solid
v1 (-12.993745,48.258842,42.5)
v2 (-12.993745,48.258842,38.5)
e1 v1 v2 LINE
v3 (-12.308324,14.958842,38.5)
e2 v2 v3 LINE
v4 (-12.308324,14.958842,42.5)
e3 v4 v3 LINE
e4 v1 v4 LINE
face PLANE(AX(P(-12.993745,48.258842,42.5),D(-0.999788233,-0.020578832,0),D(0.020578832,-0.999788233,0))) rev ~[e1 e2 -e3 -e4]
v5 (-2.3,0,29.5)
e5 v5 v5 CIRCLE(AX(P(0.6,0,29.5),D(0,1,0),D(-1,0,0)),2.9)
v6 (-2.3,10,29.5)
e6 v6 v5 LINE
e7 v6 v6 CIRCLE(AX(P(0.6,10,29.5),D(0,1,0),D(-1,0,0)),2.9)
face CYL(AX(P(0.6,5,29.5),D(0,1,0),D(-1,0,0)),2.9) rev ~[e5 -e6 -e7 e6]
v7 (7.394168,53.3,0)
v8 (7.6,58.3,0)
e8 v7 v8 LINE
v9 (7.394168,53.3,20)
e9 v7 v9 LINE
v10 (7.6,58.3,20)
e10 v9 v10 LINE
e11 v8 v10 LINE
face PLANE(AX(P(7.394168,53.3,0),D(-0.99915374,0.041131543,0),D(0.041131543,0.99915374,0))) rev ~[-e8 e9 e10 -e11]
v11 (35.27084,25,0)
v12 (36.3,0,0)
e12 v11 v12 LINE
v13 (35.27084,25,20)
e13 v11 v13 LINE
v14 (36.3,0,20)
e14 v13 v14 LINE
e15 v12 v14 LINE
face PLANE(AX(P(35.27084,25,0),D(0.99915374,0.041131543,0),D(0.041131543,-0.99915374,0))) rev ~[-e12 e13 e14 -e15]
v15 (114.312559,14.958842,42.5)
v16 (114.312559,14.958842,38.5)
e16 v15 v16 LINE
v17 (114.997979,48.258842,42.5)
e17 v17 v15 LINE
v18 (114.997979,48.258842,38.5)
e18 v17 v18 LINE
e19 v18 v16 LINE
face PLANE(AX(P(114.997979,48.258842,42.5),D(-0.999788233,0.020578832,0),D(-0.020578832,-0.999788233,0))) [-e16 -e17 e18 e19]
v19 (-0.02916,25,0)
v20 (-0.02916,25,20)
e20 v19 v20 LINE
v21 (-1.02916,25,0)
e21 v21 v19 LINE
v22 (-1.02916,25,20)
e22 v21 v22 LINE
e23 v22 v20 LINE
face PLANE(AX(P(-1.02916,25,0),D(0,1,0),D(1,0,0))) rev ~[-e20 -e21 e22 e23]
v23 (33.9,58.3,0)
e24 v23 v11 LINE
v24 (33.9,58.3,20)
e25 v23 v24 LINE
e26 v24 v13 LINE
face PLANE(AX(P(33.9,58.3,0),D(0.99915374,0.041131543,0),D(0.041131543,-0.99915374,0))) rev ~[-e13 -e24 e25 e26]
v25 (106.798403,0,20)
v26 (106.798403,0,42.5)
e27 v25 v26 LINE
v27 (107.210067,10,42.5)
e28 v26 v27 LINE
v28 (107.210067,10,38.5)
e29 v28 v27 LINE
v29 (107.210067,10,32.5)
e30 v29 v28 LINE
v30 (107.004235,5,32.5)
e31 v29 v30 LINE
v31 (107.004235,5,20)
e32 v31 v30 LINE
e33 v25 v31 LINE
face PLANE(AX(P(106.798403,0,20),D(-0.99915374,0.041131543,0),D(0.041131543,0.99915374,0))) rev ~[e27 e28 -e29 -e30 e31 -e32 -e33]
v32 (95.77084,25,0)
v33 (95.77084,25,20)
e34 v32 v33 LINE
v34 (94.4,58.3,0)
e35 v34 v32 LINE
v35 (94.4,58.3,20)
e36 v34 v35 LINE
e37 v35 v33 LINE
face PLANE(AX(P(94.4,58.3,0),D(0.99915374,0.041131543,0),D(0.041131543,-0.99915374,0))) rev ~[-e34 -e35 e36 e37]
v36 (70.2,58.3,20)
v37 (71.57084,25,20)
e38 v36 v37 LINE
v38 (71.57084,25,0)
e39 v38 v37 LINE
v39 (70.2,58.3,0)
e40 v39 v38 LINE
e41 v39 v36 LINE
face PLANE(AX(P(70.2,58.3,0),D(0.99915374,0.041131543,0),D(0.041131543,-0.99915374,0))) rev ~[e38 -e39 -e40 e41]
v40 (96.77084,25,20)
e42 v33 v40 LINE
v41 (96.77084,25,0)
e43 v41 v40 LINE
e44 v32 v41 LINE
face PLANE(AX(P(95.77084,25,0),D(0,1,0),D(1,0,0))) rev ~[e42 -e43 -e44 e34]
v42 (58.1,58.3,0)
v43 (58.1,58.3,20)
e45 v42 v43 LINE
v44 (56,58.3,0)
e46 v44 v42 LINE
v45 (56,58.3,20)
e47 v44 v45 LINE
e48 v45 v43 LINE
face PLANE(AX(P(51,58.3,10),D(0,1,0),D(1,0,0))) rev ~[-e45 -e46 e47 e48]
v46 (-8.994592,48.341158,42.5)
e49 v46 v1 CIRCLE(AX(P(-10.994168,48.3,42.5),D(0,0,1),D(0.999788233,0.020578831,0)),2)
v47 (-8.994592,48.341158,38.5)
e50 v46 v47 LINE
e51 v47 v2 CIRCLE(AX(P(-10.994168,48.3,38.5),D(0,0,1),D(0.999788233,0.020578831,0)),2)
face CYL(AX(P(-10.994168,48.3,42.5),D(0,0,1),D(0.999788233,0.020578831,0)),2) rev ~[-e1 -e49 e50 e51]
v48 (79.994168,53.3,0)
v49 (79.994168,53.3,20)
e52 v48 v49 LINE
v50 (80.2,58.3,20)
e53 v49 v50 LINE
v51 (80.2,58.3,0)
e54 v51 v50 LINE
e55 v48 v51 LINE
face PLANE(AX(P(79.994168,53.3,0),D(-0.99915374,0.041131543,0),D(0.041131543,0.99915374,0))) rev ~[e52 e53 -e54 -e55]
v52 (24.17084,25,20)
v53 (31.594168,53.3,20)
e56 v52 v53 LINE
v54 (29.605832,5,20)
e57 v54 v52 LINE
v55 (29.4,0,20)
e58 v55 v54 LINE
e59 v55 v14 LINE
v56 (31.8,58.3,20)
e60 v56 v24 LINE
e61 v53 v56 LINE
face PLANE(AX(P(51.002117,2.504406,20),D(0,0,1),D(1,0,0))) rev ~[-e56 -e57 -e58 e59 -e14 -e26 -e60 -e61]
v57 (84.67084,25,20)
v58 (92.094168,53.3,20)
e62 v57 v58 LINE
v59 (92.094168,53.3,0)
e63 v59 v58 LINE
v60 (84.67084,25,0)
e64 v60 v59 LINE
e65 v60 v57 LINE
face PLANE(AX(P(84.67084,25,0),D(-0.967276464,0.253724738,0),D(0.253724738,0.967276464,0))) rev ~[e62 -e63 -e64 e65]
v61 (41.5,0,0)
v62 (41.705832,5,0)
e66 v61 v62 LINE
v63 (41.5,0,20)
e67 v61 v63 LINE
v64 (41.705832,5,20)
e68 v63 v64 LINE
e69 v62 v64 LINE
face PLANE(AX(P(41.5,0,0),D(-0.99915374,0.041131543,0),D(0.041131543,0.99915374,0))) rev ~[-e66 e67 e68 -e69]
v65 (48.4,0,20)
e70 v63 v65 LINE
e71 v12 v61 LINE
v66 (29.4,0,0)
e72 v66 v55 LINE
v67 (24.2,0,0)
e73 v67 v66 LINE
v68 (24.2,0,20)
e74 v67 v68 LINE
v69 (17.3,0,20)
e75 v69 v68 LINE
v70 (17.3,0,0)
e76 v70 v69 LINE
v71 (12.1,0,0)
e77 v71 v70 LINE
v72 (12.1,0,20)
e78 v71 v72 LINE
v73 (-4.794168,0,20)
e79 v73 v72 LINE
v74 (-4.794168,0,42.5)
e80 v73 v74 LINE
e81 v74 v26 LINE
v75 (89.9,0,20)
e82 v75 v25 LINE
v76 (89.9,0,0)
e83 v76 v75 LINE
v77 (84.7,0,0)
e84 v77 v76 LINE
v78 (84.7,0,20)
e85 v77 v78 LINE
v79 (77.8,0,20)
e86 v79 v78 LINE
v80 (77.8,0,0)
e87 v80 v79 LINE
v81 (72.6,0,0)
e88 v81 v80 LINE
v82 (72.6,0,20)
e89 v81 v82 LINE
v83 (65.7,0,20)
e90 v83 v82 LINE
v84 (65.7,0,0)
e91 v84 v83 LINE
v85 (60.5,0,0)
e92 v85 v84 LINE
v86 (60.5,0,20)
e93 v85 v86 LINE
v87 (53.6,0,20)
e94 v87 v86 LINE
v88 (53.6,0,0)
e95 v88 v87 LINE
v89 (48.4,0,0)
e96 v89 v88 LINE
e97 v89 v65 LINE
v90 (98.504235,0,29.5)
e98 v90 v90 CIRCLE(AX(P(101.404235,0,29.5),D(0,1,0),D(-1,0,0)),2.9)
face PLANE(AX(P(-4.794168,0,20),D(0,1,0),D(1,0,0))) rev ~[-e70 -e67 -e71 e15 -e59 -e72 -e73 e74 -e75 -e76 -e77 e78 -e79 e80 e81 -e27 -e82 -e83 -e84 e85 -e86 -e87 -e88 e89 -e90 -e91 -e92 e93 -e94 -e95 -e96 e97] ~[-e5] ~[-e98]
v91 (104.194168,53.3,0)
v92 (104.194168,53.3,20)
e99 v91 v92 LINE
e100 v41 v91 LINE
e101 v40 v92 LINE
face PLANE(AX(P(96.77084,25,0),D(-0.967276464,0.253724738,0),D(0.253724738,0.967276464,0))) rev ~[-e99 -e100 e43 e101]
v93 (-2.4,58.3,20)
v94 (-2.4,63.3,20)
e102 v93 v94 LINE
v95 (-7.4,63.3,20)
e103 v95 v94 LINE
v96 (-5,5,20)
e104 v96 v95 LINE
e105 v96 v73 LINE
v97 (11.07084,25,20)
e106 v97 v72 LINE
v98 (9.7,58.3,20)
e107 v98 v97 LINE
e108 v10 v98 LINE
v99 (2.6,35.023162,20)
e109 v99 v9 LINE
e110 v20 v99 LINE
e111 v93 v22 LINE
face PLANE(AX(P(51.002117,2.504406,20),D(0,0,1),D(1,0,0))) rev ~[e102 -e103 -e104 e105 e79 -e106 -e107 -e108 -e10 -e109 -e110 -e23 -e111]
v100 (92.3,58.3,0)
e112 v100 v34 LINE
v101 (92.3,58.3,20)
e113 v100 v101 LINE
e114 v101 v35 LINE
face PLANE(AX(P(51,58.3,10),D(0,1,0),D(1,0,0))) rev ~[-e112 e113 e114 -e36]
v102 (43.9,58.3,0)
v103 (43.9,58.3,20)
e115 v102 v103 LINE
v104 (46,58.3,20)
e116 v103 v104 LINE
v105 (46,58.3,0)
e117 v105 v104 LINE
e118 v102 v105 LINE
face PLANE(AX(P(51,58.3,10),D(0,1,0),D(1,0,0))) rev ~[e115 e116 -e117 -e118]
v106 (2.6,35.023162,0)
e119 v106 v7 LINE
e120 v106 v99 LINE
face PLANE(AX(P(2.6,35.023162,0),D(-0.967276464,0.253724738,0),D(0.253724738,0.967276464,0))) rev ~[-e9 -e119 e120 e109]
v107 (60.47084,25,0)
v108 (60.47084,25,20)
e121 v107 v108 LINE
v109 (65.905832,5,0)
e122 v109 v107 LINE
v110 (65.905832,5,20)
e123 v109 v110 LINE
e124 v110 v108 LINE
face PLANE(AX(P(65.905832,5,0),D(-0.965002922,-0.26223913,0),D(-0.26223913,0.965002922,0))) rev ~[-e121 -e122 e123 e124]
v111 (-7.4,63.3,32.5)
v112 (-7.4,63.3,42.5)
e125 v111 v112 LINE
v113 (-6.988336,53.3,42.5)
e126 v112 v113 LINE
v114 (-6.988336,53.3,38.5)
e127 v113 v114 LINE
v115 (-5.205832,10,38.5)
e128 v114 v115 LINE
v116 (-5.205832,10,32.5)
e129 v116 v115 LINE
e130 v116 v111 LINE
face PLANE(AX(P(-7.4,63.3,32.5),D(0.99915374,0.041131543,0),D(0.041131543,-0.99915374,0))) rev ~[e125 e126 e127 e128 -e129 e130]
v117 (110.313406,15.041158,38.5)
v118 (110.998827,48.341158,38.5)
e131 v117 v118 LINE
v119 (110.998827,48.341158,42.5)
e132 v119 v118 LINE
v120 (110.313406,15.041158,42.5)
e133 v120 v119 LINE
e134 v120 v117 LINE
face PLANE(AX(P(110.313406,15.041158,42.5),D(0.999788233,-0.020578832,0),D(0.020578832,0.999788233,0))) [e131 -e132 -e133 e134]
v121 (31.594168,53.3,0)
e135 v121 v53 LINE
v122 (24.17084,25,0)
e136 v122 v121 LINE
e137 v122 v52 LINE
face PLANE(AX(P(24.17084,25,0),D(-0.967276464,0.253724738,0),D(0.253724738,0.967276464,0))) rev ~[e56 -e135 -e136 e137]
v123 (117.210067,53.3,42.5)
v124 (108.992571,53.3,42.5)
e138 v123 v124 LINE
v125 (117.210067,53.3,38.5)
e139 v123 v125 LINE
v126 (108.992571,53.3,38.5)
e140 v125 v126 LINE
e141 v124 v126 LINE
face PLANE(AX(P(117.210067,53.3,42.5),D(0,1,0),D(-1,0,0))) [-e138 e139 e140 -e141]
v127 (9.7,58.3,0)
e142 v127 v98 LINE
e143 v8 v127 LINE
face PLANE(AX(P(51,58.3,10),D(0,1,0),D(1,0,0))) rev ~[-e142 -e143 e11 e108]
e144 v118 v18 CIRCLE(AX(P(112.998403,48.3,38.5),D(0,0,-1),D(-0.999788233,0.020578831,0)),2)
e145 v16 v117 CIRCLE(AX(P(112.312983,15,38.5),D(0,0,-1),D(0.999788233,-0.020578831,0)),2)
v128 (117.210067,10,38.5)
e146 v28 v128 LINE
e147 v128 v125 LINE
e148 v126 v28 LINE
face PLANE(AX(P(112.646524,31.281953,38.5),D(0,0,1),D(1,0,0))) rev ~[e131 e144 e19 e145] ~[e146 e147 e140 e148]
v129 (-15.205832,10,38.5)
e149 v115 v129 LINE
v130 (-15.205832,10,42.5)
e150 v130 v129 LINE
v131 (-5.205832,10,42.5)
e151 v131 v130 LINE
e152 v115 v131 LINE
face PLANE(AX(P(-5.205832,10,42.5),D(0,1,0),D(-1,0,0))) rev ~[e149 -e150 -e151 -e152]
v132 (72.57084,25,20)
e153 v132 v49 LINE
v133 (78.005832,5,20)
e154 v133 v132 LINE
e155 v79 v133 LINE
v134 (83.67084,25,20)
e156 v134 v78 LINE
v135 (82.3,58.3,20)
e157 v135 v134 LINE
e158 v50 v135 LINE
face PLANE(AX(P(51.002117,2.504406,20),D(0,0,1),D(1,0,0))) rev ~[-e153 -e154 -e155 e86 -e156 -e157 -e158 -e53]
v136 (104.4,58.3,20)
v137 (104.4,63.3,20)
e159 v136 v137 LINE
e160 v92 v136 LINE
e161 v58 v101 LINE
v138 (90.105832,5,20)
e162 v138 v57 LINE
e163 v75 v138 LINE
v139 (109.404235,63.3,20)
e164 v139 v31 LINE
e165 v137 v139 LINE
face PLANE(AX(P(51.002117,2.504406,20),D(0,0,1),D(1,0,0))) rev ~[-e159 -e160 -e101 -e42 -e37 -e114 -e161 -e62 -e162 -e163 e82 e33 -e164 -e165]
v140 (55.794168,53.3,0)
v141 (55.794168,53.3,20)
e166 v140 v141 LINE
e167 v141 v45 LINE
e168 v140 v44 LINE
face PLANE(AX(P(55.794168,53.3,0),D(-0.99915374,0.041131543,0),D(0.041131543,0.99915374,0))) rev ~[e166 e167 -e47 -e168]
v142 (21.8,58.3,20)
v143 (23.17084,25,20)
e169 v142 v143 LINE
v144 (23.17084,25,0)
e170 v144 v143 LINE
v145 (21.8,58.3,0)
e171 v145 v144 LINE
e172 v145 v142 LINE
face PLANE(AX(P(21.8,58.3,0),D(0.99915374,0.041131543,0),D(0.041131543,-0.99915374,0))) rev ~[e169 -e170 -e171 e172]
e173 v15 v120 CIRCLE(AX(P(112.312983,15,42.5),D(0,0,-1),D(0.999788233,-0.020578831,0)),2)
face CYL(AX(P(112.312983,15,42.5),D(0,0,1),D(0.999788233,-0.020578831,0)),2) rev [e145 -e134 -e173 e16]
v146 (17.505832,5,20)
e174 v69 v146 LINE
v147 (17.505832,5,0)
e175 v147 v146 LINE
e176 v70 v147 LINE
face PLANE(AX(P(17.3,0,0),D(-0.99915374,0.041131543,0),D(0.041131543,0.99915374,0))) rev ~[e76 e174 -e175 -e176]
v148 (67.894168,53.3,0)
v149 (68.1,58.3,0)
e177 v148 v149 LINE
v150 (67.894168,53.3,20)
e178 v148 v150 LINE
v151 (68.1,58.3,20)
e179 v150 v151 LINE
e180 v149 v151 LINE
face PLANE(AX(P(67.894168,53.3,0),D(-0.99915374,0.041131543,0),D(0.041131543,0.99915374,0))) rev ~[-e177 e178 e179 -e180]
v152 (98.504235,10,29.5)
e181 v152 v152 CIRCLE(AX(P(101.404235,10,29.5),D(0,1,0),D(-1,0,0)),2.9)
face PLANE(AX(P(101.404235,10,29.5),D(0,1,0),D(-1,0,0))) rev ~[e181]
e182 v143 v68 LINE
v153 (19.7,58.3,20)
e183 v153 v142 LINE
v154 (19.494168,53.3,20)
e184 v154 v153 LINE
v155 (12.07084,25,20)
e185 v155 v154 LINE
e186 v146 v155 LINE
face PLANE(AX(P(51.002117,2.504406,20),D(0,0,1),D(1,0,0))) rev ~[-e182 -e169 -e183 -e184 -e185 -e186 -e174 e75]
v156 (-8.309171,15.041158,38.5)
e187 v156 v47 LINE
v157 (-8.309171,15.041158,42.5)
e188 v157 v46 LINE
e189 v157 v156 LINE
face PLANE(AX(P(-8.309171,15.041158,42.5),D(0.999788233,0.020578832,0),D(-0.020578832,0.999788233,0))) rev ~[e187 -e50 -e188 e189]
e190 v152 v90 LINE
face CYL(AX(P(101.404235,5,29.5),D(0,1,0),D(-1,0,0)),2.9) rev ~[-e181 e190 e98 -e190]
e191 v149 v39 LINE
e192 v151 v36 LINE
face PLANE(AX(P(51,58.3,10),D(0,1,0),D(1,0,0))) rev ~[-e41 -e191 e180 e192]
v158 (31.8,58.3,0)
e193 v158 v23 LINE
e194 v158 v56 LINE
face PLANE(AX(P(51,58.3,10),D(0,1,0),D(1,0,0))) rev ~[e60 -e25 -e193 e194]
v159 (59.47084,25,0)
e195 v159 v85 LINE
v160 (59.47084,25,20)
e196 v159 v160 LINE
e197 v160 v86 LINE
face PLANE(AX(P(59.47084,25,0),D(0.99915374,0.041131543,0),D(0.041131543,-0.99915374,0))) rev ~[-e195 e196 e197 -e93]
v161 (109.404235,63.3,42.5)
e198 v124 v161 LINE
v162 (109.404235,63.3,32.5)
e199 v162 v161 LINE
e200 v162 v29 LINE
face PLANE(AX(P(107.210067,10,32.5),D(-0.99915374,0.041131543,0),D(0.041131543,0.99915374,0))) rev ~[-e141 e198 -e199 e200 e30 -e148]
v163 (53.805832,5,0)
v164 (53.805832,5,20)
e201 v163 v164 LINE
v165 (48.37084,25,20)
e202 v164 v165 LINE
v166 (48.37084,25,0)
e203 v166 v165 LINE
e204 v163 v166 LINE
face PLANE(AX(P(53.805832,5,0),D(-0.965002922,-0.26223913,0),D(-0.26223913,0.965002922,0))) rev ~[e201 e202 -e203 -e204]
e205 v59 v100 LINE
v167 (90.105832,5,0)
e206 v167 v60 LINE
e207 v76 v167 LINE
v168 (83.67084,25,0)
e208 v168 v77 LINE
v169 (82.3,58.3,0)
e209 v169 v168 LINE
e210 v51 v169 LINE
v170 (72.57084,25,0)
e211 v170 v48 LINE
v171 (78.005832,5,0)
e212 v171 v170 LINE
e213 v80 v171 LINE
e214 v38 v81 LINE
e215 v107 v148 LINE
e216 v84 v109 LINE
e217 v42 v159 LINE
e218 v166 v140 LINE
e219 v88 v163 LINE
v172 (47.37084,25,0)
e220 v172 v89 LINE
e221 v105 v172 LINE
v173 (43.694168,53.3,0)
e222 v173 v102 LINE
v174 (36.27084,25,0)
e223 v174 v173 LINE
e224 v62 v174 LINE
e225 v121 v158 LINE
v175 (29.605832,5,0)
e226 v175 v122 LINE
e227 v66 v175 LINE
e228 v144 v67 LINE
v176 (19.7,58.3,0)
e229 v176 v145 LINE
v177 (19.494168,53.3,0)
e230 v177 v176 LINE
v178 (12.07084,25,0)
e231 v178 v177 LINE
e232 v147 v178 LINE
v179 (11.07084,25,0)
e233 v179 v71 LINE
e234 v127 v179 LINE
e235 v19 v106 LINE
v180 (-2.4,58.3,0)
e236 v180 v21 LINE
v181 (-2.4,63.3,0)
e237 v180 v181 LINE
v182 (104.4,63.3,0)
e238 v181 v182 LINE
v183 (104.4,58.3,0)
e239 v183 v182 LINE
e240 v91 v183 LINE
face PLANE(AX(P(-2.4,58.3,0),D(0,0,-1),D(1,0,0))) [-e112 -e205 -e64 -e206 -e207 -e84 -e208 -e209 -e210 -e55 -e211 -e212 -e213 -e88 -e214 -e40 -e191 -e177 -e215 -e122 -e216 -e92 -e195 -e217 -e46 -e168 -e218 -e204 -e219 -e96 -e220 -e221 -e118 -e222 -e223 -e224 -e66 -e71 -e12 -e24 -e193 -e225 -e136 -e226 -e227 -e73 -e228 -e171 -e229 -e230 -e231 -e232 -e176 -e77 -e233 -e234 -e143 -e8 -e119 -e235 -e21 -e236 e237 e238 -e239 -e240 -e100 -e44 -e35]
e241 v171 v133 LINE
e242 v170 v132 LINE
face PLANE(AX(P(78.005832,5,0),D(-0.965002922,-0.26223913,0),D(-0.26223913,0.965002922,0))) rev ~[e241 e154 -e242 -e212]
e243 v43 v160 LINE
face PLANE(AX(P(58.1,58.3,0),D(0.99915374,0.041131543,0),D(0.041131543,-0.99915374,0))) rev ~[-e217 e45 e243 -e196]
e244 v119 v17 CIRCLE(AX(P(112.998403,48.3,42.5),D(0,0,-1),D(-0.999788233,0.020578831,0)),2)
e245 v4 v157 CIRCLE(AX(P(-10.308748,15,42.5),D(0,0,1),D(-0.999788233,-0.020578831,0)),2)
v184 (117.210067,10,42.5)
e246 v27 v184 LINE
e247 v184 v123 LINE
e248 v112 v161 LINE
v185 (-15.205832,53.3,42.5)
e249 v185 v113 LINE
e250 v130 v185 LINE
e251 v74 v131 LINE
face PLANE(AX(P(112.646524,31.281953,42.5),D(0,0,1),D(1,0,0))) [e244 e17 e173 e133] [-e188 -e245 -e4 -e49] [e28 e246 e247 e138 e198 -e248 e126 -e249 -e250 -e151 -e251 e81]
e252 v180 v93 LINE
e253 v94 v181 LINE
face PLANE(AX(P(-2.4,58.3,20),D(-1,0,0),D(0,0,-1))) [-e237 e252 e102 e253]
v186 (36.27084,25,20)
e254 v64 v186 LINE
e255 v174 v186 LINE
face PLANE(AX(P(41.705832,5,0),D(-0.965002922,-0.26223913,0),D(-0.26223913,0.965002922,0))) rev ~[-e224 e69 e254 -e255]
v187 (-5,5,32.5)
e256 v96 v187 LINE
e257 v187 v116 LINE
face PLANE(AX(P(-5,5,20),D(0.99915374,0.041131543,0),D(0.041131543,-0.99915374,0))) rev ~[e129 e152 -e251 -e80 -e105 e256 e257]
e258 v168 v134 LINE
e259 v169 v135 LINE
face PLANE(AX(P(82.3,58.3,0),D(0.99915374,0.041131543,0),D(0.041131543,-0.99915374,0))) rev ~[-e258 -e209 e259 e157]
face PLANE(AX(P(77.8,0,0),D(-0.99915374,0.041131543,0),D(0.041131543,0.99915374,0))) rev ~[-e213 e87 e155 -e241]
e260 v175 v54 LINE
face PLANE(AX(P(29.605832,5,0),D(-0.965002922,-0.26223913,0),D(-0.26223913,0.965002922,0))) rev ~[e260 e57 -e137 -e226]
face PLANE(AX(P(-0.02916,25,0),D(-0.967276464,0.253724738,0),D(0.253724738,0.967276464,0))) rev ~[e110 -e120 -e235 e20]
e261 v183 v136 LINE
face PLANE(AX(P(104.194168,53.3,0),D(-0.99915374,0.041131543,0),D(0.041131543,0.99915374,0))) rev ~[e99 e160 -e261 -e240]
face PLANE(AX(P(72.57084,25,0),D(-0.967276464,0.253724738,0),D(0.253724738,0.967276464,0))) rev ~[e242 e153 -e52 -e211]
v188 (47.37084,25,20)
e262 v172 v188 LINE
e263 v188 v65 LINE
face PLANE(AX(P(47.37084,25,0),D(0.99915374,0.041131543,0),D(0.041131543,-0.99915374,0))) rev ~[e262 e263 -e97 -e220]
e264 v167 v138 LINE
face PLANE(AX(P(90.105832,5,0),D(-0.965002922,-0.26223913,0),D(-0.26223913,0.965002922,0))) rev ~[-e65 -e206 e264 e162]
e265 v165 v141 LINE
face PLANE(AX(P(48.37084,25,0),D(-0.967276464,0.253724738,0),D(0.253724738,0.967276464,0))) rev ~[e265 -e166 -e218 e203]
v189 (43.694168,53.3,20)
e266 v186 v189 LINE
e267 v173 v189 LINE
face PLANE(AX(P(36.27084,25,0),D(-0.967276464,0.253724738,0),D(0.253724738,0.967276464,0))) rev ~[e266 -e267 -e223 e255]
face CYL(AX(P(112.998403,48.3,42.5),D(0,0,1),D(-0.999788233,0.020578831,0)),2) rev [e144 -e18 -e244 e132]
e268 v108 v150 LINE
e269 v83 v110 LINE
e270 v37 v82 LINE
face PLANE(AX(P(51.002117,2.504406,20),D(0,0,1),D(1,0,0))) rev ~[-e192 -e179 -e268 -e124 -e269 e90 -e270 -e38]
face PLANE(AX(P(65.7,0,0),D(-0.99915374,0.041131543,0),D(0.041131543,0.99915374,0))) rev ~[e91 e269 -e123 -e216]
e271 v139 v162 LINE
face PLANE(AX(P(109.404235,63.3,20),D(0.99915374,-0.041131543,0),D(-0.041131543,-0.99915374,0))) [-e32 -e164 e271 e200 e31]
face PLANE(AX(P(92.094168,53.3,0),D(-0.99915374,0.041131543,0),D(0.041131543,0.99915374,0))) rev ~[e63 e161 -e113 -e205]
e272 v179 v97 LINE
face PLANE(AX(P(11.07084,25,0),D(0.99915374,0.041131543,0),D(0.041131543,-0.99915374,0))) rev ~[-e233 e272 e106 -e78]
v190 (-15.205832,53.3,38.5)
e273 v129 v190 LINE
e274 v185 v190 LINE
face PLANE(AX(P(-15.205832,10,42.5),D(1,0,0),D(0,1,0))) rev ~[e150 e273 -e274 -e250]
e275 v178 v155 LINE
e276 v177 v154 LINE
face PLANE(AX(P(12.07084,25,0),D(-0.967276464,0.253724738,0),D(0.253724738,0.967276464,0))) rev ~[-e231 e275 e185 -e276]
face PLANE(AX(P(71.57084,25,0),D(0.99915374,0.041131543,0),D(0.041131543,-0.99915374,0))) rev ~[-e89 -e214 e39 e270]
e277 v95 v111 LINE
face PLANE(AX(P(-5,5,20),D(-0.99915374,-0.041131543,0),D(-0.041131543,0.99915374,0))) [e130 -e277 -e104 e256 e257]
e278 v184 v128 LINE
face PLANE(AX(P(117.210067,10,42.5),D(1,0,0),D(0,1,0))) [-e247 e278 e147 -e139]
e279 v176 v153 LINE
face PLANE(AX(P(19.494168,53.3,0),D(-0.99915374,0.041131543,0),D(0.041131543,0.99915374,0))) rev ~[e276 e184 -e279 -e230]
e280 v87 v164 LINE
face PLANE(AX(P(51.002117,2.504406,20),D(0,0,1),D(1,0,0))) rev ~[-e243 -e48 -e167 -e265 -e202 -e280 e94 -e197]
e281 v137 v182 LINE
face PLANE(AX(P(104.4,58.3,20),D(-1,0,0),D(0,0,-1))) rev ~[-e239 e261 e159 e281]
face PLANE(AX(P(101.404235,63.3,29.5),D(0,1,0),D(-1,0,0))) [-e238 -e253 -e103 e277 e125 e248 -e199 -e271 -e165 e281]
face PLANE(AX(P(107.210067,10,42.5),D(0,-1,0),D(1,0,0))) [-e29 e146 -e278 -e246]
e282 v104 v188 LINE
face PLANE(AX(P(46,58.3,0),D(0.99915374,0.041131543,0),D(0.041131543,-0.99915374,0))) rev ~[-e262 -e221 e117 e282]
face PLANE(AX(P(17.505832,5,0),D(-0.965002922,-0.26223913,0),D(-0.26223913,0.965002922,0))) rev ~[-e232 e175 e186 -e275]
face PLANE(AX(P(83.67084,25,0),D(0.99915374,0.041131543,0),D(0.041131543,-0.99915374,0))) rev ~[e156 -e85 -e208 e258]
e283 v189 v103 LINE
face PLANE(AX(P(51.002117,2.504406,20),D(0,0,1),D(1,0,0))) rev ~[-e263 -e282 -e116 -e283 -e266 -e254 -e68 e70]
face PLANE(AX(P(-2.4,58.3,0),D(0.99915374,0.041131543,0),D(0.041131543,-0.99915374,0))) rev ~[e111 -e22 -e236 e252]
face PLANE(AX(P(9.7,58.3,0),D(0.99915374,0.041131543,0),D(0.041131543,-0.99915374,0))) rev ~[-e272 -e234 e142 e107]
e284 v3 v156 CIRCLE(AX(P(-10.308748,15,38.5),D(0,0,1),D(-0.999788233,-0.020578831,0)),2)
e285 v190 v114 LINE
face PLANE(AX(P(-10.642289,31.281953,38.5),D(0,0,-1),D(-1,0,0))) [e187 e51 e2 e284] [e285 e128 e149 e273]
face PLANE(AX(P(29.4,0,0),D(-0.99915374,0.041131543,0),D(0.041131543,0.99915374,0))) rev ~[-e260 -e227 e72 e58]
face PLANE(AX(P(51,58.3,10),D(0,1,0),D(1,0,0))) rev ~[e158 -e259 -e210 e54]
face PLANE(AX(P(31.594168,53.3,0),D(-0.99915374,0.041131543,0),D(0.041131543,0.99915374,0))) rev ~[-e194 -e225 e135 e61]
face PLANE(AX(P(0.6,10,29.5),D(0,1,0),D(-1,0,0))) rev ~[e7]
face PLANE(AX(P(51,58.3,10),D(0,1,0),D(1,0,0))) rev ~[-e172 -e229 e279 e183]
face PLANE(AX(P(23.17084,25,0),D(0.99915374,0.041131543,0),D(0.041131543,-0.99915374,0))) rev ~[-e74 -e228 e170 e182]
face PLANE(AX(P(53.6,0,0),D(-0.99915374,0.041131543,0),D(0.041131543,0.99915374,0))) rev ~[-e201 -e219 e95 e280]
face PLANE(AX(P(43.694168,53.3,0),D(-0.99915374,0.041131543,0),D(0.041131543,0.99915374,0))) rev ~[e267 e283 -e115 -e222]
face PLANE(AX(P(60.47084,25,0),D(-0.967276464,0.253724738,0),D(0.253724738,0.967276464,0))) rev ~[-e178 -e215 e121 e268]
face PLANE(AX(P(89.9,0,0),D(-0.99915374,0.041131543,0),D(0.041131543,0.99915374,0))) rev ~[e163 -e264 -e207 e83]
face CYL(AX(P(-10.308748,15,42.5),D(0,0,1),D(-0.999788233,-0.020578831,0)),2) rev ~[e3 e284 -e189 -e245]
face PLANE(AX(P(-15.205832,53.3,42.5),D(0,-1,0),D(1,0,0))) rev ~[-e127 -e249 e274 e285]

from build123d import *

# Parameters (mm, degrees)
BOSS_EXTRUDE1_DEPTH = 20
SKETCH2_W           = 106.8
SKETCH2_H           = 20
BOSS_EXTRUDE2_DEPTH = 5
BOSS_EXTRUDE3_DEPTH = 12.5
SKETCH4_W           = 90.804234884
SKETCH4_H           = 53.3
BOSS_EXTRUDE4_DEPTH = 10
SKETCH7_R           = 2.9
CUT_EXTRUDE3_DEPTH  = 129.904719117
BOSS_EXTRUDE6_START = 53.3
SKETCH8_R           = 2.9
SKETCH8_W           = 10
SKETCH8_H           = 10
BOSS_EXTRUDE6_DEPTH = 53.3
BOSS_EXTRUDE7_DEPTH = 22.5
SKETCH12_R          = 2.9
CUT_EXTRUDE6_DEPTH  = 132.051236585
BOSS_EXTRUDE8_DEPTH = 4


with BuildPart() as part:
    # Sketch1 → Boss-Extrude1 (new body)
    with BuildSketch(Plane.XY):
        Polygon((-2.4, 58.3), (-1.02915952, 25), (-0.02915952, 25), (2.6, 35.023161884), (2.6, 58.3), align=None)
        Polygon((7.6, 58.3), (2.6, 58.3), (2.6, 35.023161884), (7.394168096, 53.3), align=None)
        Polygon((19.7, 58.3), (9.7, 58.3), (11.07084048, 25), (12.07084048, 25), (19.494168096, 53.3), align=None)
        Polygon((31.8, 58.3), (21.8, 58.3), (23.17084048, 25), (24.17084048, 25), (31.594168096, 53.3), align=None)
        Polygon((43.9, 58.3), (33.9, 58.3), (35.27084048, 25), (36.27084048, 25), (43.694168096, 53.3), align=None)
        Polygon((56, 58.3), (46, 58.3), (47.37084048, 25), (48.37084048, 25), (55.794168096, 53.3), align=None)
        Polygon((68.1, 58.3), (58.1, 58.3), (59.47084048, 25), (60.47084048, 25), (67.894168096, 53.3), align=None)
        Polygon((80.2, 58.3), (70.2, 58.3), (71.57084048, 25), (72.57084048, 25), (79.994168096, 53.3), align=None)
        Polygon((92.3, 58.3), (82.3, 58.3), (83.67084048, 25), (84.67084048, 25), (92.094168096, 53.3), align=None)
        Polygon((104.4, 58.3), (94.4, 58.3), (95.77084048, 25), (96.77084048, 25), (104.194168096, 53.3), align=None)
        Polygon((84.67084048, 25), (83.67084048, 25), (84.7, 0), (89.9, 0), (90.105831904, 5), align=None)
        Polygon((72.57084048, 25), (71.57084048, 25), (72.6, 0), (77.8, 0), (78.005831904, 5), align=None)
        Polygon((60.47084048, 25), (59.47084048, 25), (60.5, 0), (65.7, 0), (65.905831904, 5), align=None)
        Polygon((48.37084048, 25), (47.37084048, 25), (48.4, 0), (53.6, 0), (53.805831904, 5), align=None)
        Polygon((36.27084048, 25), (35.27084048, 25), (36.3, 0), (41.5, 0), (41.705831904, 5), align=None)
        Polygon((24.17084048, 25), (23.17084048, 25), (24.2, 0), (29.4, 0), (29.605831904, 5), align=None)
        Polygon((12.07084048, 25), (11.07084048, 25), (12.1, 0), (17.3, 0), (17.505831904, 5), align=None)
    extrude(amount=BOSS_EXTRUDE1_DEPTH)

    # Sketch2 → Boss-Extrude2 (add)
    with BuildSketch(Plane(origin=(0, 58.3, 0), x_dir=(1, 0, 0), z_dir=(0, 1, 0))):
        with Locations((51, -10)):
            Rectangle(SKETCH2_W, SKETCH2_H)
    extrude(amount=BOSS_EXTRUDE2_DEPTH)

    # Sketch3 → Boss-Extrude3 (add)
    with BuildSketch(Plane.XY.offset(20)):
        Polygon((109.404234884, 63.3), (107.004234884, 5), (-5, 5), (-7.4, 63.3), align=None)
    extrude(amount=BOSS_EXTRUDE3_DEPTH)

    # Sketch4 → Boss-Extrude4 (add)
    with BuildSketch(Plane.XY.offset(32.5)):
        Polygon((-5, 5), (107.004234884, 5), (107.210066788, 10), (106.404234884, 10), (96.404234884, 10), (5.6, 10), (-4.4, 10), (-5.205831904, 10), align=None)
        Polygon((-7.4, 63.3), (-5.205831904, 10), (-4.4, 10), (-4.4, 63.3), align=None)
        Polygon((107.210066788, 10), (109.404234884, 63.3), (106.404234884, 63.3), (106.404234884, 10), align=None)
        with Locations((51.002117442, 36.65)):
            Rectangle(SKETCH4_W, SKETCH4_H)
    extrude(amount=BOSS_EXTRUDE4_DEPTH)

    # Sketch7 → Cut-Extrude3 (cut, through all)
    with BuildSketch(Plane(origin=(0, 10, 0), x_dir=(1, 0, 0), z_dir=(0, 1, 0))):
        with Locations(Location((101.404234884, -29.5, 0), (0, 0, 180))):
            Circle(SKETCH7_R)
        with Locations(Location((0.6, -29.5, 0), (0, 0, 180))):
            Circle(SKETCH7_R)
    extrude(amount=-CUT_EXTRUDE3_DEPTH, mode=Mode.SUBTRACT)

    # Sketch8 → Boss-Extrude6 (add)
    with BuildSketch(Plane(origin=(0, 10, 0), x_dir=(1, 0, 0), z_dir=(0, 1, 0)).offset(BOSS_EXTRUDE6_START)):
        with Locations(Location((101.404234884, -29.5, 0), (0, 0, 180))):
            Circle(SKETCH8_R)
        with Locations(Location((0.6, -29.5, 0), (0, 0, 180))):
            Circle(SKETCH8_R)
        with Locations((101.404234884, -37.5)):
            Rectangle(SKETCH8_W, SKETCH8_H)
        with Locations((0.6, -37.5)):
            Rectangle(SKETCH8_W, SKETCH8_H)
    extrude(amount=-BOSS_EXTRUDE6_DEPTH)

    # Sketch10 → Boss-Extrude7 (add)
    with BuildSketch(Plane.XY.offset(20)):
        Polygon((-5, 5), (-4.794168096, 0), (106.79840298, 0), (107.004234884, 5), align=None)
    extrude(amount=BOSS_EXTRUDE7_DEPTH)

    # Sketch12 → Cut-Extrude6 (cut, through all)
    with BuildSketch(Plane(origin=(0, 5, 0), x_dir=(1, 0, 0), z_dir=(0, 1, 0))):
        with Locations(Location((101.404234884, -29.5, 0), (0, 0, 180))):
            Circle(SKETCH12_R)
        with Locations(Location((0.6, -29.5, 0), (0, 0, 180))):
            Circle(SKETCH12_R)
    extrude(amount=-CUT_EXTRUDE6_DEPTH, mode=Mode.SUBTRACT)

    # Sketch13 → Boss-Extrude8 (add)
    # profile 1 of 2: a face of its own
    with BuildSketch(Plane.XY.offset(42.5)):
        Polygon((108.992571076, 53.3), (107.210066788, 10), (117.210066788, 10), (117.210066788, 53.3), align=None)
        with BuildLine():
            Line((110.313406273, 15.041157663), (110.998826513, 48.341157663))
            ThreePointArc((110.998826513, 48.341157663), (113.039560643, 50.299576467), (114.997979447, 48.258842337))
            Line((114.997979447, 48.258842337), (114.312559207, 14.958842337))
            ThreePointArc((114.312559207, 14.958842337), (112.271825077, 13.000423533), (110.313406273, 15.041157663))
        make_face(mode=Mode.SUBTRACT)
    # profile 2 of 2: a face of its own
    with BuildSketch(Plane.XY.offset(42.5)):
        Polygon((-15.205831904, 10), (-15.205831904, 53.3), (-6.988336192, 53.3), (-5.205831904, 10), align=None)
        with BuildLine():
            Line((-8.309171389, 15.041157663), (-8.994591629, 48.341157663))
            ThreePointArc((-8.994591629, 48.341157663), (-11.035325759, 50.299576467), (-12.993744563, 48.258842337))
            Line((-12.993744563, 48.258842337), (-12.308324323, 14.958842337))
            ThreePointArc((-12.308324323, 14.958842337), (-10.267590193, 13.000423533), (-8.309171389, 15.041157663))
        make_face(mode=Mode.SUBTRACT)
    extrude(amount=-BOSS_EXTRUDE8_DEPTH)


solid = part.part
